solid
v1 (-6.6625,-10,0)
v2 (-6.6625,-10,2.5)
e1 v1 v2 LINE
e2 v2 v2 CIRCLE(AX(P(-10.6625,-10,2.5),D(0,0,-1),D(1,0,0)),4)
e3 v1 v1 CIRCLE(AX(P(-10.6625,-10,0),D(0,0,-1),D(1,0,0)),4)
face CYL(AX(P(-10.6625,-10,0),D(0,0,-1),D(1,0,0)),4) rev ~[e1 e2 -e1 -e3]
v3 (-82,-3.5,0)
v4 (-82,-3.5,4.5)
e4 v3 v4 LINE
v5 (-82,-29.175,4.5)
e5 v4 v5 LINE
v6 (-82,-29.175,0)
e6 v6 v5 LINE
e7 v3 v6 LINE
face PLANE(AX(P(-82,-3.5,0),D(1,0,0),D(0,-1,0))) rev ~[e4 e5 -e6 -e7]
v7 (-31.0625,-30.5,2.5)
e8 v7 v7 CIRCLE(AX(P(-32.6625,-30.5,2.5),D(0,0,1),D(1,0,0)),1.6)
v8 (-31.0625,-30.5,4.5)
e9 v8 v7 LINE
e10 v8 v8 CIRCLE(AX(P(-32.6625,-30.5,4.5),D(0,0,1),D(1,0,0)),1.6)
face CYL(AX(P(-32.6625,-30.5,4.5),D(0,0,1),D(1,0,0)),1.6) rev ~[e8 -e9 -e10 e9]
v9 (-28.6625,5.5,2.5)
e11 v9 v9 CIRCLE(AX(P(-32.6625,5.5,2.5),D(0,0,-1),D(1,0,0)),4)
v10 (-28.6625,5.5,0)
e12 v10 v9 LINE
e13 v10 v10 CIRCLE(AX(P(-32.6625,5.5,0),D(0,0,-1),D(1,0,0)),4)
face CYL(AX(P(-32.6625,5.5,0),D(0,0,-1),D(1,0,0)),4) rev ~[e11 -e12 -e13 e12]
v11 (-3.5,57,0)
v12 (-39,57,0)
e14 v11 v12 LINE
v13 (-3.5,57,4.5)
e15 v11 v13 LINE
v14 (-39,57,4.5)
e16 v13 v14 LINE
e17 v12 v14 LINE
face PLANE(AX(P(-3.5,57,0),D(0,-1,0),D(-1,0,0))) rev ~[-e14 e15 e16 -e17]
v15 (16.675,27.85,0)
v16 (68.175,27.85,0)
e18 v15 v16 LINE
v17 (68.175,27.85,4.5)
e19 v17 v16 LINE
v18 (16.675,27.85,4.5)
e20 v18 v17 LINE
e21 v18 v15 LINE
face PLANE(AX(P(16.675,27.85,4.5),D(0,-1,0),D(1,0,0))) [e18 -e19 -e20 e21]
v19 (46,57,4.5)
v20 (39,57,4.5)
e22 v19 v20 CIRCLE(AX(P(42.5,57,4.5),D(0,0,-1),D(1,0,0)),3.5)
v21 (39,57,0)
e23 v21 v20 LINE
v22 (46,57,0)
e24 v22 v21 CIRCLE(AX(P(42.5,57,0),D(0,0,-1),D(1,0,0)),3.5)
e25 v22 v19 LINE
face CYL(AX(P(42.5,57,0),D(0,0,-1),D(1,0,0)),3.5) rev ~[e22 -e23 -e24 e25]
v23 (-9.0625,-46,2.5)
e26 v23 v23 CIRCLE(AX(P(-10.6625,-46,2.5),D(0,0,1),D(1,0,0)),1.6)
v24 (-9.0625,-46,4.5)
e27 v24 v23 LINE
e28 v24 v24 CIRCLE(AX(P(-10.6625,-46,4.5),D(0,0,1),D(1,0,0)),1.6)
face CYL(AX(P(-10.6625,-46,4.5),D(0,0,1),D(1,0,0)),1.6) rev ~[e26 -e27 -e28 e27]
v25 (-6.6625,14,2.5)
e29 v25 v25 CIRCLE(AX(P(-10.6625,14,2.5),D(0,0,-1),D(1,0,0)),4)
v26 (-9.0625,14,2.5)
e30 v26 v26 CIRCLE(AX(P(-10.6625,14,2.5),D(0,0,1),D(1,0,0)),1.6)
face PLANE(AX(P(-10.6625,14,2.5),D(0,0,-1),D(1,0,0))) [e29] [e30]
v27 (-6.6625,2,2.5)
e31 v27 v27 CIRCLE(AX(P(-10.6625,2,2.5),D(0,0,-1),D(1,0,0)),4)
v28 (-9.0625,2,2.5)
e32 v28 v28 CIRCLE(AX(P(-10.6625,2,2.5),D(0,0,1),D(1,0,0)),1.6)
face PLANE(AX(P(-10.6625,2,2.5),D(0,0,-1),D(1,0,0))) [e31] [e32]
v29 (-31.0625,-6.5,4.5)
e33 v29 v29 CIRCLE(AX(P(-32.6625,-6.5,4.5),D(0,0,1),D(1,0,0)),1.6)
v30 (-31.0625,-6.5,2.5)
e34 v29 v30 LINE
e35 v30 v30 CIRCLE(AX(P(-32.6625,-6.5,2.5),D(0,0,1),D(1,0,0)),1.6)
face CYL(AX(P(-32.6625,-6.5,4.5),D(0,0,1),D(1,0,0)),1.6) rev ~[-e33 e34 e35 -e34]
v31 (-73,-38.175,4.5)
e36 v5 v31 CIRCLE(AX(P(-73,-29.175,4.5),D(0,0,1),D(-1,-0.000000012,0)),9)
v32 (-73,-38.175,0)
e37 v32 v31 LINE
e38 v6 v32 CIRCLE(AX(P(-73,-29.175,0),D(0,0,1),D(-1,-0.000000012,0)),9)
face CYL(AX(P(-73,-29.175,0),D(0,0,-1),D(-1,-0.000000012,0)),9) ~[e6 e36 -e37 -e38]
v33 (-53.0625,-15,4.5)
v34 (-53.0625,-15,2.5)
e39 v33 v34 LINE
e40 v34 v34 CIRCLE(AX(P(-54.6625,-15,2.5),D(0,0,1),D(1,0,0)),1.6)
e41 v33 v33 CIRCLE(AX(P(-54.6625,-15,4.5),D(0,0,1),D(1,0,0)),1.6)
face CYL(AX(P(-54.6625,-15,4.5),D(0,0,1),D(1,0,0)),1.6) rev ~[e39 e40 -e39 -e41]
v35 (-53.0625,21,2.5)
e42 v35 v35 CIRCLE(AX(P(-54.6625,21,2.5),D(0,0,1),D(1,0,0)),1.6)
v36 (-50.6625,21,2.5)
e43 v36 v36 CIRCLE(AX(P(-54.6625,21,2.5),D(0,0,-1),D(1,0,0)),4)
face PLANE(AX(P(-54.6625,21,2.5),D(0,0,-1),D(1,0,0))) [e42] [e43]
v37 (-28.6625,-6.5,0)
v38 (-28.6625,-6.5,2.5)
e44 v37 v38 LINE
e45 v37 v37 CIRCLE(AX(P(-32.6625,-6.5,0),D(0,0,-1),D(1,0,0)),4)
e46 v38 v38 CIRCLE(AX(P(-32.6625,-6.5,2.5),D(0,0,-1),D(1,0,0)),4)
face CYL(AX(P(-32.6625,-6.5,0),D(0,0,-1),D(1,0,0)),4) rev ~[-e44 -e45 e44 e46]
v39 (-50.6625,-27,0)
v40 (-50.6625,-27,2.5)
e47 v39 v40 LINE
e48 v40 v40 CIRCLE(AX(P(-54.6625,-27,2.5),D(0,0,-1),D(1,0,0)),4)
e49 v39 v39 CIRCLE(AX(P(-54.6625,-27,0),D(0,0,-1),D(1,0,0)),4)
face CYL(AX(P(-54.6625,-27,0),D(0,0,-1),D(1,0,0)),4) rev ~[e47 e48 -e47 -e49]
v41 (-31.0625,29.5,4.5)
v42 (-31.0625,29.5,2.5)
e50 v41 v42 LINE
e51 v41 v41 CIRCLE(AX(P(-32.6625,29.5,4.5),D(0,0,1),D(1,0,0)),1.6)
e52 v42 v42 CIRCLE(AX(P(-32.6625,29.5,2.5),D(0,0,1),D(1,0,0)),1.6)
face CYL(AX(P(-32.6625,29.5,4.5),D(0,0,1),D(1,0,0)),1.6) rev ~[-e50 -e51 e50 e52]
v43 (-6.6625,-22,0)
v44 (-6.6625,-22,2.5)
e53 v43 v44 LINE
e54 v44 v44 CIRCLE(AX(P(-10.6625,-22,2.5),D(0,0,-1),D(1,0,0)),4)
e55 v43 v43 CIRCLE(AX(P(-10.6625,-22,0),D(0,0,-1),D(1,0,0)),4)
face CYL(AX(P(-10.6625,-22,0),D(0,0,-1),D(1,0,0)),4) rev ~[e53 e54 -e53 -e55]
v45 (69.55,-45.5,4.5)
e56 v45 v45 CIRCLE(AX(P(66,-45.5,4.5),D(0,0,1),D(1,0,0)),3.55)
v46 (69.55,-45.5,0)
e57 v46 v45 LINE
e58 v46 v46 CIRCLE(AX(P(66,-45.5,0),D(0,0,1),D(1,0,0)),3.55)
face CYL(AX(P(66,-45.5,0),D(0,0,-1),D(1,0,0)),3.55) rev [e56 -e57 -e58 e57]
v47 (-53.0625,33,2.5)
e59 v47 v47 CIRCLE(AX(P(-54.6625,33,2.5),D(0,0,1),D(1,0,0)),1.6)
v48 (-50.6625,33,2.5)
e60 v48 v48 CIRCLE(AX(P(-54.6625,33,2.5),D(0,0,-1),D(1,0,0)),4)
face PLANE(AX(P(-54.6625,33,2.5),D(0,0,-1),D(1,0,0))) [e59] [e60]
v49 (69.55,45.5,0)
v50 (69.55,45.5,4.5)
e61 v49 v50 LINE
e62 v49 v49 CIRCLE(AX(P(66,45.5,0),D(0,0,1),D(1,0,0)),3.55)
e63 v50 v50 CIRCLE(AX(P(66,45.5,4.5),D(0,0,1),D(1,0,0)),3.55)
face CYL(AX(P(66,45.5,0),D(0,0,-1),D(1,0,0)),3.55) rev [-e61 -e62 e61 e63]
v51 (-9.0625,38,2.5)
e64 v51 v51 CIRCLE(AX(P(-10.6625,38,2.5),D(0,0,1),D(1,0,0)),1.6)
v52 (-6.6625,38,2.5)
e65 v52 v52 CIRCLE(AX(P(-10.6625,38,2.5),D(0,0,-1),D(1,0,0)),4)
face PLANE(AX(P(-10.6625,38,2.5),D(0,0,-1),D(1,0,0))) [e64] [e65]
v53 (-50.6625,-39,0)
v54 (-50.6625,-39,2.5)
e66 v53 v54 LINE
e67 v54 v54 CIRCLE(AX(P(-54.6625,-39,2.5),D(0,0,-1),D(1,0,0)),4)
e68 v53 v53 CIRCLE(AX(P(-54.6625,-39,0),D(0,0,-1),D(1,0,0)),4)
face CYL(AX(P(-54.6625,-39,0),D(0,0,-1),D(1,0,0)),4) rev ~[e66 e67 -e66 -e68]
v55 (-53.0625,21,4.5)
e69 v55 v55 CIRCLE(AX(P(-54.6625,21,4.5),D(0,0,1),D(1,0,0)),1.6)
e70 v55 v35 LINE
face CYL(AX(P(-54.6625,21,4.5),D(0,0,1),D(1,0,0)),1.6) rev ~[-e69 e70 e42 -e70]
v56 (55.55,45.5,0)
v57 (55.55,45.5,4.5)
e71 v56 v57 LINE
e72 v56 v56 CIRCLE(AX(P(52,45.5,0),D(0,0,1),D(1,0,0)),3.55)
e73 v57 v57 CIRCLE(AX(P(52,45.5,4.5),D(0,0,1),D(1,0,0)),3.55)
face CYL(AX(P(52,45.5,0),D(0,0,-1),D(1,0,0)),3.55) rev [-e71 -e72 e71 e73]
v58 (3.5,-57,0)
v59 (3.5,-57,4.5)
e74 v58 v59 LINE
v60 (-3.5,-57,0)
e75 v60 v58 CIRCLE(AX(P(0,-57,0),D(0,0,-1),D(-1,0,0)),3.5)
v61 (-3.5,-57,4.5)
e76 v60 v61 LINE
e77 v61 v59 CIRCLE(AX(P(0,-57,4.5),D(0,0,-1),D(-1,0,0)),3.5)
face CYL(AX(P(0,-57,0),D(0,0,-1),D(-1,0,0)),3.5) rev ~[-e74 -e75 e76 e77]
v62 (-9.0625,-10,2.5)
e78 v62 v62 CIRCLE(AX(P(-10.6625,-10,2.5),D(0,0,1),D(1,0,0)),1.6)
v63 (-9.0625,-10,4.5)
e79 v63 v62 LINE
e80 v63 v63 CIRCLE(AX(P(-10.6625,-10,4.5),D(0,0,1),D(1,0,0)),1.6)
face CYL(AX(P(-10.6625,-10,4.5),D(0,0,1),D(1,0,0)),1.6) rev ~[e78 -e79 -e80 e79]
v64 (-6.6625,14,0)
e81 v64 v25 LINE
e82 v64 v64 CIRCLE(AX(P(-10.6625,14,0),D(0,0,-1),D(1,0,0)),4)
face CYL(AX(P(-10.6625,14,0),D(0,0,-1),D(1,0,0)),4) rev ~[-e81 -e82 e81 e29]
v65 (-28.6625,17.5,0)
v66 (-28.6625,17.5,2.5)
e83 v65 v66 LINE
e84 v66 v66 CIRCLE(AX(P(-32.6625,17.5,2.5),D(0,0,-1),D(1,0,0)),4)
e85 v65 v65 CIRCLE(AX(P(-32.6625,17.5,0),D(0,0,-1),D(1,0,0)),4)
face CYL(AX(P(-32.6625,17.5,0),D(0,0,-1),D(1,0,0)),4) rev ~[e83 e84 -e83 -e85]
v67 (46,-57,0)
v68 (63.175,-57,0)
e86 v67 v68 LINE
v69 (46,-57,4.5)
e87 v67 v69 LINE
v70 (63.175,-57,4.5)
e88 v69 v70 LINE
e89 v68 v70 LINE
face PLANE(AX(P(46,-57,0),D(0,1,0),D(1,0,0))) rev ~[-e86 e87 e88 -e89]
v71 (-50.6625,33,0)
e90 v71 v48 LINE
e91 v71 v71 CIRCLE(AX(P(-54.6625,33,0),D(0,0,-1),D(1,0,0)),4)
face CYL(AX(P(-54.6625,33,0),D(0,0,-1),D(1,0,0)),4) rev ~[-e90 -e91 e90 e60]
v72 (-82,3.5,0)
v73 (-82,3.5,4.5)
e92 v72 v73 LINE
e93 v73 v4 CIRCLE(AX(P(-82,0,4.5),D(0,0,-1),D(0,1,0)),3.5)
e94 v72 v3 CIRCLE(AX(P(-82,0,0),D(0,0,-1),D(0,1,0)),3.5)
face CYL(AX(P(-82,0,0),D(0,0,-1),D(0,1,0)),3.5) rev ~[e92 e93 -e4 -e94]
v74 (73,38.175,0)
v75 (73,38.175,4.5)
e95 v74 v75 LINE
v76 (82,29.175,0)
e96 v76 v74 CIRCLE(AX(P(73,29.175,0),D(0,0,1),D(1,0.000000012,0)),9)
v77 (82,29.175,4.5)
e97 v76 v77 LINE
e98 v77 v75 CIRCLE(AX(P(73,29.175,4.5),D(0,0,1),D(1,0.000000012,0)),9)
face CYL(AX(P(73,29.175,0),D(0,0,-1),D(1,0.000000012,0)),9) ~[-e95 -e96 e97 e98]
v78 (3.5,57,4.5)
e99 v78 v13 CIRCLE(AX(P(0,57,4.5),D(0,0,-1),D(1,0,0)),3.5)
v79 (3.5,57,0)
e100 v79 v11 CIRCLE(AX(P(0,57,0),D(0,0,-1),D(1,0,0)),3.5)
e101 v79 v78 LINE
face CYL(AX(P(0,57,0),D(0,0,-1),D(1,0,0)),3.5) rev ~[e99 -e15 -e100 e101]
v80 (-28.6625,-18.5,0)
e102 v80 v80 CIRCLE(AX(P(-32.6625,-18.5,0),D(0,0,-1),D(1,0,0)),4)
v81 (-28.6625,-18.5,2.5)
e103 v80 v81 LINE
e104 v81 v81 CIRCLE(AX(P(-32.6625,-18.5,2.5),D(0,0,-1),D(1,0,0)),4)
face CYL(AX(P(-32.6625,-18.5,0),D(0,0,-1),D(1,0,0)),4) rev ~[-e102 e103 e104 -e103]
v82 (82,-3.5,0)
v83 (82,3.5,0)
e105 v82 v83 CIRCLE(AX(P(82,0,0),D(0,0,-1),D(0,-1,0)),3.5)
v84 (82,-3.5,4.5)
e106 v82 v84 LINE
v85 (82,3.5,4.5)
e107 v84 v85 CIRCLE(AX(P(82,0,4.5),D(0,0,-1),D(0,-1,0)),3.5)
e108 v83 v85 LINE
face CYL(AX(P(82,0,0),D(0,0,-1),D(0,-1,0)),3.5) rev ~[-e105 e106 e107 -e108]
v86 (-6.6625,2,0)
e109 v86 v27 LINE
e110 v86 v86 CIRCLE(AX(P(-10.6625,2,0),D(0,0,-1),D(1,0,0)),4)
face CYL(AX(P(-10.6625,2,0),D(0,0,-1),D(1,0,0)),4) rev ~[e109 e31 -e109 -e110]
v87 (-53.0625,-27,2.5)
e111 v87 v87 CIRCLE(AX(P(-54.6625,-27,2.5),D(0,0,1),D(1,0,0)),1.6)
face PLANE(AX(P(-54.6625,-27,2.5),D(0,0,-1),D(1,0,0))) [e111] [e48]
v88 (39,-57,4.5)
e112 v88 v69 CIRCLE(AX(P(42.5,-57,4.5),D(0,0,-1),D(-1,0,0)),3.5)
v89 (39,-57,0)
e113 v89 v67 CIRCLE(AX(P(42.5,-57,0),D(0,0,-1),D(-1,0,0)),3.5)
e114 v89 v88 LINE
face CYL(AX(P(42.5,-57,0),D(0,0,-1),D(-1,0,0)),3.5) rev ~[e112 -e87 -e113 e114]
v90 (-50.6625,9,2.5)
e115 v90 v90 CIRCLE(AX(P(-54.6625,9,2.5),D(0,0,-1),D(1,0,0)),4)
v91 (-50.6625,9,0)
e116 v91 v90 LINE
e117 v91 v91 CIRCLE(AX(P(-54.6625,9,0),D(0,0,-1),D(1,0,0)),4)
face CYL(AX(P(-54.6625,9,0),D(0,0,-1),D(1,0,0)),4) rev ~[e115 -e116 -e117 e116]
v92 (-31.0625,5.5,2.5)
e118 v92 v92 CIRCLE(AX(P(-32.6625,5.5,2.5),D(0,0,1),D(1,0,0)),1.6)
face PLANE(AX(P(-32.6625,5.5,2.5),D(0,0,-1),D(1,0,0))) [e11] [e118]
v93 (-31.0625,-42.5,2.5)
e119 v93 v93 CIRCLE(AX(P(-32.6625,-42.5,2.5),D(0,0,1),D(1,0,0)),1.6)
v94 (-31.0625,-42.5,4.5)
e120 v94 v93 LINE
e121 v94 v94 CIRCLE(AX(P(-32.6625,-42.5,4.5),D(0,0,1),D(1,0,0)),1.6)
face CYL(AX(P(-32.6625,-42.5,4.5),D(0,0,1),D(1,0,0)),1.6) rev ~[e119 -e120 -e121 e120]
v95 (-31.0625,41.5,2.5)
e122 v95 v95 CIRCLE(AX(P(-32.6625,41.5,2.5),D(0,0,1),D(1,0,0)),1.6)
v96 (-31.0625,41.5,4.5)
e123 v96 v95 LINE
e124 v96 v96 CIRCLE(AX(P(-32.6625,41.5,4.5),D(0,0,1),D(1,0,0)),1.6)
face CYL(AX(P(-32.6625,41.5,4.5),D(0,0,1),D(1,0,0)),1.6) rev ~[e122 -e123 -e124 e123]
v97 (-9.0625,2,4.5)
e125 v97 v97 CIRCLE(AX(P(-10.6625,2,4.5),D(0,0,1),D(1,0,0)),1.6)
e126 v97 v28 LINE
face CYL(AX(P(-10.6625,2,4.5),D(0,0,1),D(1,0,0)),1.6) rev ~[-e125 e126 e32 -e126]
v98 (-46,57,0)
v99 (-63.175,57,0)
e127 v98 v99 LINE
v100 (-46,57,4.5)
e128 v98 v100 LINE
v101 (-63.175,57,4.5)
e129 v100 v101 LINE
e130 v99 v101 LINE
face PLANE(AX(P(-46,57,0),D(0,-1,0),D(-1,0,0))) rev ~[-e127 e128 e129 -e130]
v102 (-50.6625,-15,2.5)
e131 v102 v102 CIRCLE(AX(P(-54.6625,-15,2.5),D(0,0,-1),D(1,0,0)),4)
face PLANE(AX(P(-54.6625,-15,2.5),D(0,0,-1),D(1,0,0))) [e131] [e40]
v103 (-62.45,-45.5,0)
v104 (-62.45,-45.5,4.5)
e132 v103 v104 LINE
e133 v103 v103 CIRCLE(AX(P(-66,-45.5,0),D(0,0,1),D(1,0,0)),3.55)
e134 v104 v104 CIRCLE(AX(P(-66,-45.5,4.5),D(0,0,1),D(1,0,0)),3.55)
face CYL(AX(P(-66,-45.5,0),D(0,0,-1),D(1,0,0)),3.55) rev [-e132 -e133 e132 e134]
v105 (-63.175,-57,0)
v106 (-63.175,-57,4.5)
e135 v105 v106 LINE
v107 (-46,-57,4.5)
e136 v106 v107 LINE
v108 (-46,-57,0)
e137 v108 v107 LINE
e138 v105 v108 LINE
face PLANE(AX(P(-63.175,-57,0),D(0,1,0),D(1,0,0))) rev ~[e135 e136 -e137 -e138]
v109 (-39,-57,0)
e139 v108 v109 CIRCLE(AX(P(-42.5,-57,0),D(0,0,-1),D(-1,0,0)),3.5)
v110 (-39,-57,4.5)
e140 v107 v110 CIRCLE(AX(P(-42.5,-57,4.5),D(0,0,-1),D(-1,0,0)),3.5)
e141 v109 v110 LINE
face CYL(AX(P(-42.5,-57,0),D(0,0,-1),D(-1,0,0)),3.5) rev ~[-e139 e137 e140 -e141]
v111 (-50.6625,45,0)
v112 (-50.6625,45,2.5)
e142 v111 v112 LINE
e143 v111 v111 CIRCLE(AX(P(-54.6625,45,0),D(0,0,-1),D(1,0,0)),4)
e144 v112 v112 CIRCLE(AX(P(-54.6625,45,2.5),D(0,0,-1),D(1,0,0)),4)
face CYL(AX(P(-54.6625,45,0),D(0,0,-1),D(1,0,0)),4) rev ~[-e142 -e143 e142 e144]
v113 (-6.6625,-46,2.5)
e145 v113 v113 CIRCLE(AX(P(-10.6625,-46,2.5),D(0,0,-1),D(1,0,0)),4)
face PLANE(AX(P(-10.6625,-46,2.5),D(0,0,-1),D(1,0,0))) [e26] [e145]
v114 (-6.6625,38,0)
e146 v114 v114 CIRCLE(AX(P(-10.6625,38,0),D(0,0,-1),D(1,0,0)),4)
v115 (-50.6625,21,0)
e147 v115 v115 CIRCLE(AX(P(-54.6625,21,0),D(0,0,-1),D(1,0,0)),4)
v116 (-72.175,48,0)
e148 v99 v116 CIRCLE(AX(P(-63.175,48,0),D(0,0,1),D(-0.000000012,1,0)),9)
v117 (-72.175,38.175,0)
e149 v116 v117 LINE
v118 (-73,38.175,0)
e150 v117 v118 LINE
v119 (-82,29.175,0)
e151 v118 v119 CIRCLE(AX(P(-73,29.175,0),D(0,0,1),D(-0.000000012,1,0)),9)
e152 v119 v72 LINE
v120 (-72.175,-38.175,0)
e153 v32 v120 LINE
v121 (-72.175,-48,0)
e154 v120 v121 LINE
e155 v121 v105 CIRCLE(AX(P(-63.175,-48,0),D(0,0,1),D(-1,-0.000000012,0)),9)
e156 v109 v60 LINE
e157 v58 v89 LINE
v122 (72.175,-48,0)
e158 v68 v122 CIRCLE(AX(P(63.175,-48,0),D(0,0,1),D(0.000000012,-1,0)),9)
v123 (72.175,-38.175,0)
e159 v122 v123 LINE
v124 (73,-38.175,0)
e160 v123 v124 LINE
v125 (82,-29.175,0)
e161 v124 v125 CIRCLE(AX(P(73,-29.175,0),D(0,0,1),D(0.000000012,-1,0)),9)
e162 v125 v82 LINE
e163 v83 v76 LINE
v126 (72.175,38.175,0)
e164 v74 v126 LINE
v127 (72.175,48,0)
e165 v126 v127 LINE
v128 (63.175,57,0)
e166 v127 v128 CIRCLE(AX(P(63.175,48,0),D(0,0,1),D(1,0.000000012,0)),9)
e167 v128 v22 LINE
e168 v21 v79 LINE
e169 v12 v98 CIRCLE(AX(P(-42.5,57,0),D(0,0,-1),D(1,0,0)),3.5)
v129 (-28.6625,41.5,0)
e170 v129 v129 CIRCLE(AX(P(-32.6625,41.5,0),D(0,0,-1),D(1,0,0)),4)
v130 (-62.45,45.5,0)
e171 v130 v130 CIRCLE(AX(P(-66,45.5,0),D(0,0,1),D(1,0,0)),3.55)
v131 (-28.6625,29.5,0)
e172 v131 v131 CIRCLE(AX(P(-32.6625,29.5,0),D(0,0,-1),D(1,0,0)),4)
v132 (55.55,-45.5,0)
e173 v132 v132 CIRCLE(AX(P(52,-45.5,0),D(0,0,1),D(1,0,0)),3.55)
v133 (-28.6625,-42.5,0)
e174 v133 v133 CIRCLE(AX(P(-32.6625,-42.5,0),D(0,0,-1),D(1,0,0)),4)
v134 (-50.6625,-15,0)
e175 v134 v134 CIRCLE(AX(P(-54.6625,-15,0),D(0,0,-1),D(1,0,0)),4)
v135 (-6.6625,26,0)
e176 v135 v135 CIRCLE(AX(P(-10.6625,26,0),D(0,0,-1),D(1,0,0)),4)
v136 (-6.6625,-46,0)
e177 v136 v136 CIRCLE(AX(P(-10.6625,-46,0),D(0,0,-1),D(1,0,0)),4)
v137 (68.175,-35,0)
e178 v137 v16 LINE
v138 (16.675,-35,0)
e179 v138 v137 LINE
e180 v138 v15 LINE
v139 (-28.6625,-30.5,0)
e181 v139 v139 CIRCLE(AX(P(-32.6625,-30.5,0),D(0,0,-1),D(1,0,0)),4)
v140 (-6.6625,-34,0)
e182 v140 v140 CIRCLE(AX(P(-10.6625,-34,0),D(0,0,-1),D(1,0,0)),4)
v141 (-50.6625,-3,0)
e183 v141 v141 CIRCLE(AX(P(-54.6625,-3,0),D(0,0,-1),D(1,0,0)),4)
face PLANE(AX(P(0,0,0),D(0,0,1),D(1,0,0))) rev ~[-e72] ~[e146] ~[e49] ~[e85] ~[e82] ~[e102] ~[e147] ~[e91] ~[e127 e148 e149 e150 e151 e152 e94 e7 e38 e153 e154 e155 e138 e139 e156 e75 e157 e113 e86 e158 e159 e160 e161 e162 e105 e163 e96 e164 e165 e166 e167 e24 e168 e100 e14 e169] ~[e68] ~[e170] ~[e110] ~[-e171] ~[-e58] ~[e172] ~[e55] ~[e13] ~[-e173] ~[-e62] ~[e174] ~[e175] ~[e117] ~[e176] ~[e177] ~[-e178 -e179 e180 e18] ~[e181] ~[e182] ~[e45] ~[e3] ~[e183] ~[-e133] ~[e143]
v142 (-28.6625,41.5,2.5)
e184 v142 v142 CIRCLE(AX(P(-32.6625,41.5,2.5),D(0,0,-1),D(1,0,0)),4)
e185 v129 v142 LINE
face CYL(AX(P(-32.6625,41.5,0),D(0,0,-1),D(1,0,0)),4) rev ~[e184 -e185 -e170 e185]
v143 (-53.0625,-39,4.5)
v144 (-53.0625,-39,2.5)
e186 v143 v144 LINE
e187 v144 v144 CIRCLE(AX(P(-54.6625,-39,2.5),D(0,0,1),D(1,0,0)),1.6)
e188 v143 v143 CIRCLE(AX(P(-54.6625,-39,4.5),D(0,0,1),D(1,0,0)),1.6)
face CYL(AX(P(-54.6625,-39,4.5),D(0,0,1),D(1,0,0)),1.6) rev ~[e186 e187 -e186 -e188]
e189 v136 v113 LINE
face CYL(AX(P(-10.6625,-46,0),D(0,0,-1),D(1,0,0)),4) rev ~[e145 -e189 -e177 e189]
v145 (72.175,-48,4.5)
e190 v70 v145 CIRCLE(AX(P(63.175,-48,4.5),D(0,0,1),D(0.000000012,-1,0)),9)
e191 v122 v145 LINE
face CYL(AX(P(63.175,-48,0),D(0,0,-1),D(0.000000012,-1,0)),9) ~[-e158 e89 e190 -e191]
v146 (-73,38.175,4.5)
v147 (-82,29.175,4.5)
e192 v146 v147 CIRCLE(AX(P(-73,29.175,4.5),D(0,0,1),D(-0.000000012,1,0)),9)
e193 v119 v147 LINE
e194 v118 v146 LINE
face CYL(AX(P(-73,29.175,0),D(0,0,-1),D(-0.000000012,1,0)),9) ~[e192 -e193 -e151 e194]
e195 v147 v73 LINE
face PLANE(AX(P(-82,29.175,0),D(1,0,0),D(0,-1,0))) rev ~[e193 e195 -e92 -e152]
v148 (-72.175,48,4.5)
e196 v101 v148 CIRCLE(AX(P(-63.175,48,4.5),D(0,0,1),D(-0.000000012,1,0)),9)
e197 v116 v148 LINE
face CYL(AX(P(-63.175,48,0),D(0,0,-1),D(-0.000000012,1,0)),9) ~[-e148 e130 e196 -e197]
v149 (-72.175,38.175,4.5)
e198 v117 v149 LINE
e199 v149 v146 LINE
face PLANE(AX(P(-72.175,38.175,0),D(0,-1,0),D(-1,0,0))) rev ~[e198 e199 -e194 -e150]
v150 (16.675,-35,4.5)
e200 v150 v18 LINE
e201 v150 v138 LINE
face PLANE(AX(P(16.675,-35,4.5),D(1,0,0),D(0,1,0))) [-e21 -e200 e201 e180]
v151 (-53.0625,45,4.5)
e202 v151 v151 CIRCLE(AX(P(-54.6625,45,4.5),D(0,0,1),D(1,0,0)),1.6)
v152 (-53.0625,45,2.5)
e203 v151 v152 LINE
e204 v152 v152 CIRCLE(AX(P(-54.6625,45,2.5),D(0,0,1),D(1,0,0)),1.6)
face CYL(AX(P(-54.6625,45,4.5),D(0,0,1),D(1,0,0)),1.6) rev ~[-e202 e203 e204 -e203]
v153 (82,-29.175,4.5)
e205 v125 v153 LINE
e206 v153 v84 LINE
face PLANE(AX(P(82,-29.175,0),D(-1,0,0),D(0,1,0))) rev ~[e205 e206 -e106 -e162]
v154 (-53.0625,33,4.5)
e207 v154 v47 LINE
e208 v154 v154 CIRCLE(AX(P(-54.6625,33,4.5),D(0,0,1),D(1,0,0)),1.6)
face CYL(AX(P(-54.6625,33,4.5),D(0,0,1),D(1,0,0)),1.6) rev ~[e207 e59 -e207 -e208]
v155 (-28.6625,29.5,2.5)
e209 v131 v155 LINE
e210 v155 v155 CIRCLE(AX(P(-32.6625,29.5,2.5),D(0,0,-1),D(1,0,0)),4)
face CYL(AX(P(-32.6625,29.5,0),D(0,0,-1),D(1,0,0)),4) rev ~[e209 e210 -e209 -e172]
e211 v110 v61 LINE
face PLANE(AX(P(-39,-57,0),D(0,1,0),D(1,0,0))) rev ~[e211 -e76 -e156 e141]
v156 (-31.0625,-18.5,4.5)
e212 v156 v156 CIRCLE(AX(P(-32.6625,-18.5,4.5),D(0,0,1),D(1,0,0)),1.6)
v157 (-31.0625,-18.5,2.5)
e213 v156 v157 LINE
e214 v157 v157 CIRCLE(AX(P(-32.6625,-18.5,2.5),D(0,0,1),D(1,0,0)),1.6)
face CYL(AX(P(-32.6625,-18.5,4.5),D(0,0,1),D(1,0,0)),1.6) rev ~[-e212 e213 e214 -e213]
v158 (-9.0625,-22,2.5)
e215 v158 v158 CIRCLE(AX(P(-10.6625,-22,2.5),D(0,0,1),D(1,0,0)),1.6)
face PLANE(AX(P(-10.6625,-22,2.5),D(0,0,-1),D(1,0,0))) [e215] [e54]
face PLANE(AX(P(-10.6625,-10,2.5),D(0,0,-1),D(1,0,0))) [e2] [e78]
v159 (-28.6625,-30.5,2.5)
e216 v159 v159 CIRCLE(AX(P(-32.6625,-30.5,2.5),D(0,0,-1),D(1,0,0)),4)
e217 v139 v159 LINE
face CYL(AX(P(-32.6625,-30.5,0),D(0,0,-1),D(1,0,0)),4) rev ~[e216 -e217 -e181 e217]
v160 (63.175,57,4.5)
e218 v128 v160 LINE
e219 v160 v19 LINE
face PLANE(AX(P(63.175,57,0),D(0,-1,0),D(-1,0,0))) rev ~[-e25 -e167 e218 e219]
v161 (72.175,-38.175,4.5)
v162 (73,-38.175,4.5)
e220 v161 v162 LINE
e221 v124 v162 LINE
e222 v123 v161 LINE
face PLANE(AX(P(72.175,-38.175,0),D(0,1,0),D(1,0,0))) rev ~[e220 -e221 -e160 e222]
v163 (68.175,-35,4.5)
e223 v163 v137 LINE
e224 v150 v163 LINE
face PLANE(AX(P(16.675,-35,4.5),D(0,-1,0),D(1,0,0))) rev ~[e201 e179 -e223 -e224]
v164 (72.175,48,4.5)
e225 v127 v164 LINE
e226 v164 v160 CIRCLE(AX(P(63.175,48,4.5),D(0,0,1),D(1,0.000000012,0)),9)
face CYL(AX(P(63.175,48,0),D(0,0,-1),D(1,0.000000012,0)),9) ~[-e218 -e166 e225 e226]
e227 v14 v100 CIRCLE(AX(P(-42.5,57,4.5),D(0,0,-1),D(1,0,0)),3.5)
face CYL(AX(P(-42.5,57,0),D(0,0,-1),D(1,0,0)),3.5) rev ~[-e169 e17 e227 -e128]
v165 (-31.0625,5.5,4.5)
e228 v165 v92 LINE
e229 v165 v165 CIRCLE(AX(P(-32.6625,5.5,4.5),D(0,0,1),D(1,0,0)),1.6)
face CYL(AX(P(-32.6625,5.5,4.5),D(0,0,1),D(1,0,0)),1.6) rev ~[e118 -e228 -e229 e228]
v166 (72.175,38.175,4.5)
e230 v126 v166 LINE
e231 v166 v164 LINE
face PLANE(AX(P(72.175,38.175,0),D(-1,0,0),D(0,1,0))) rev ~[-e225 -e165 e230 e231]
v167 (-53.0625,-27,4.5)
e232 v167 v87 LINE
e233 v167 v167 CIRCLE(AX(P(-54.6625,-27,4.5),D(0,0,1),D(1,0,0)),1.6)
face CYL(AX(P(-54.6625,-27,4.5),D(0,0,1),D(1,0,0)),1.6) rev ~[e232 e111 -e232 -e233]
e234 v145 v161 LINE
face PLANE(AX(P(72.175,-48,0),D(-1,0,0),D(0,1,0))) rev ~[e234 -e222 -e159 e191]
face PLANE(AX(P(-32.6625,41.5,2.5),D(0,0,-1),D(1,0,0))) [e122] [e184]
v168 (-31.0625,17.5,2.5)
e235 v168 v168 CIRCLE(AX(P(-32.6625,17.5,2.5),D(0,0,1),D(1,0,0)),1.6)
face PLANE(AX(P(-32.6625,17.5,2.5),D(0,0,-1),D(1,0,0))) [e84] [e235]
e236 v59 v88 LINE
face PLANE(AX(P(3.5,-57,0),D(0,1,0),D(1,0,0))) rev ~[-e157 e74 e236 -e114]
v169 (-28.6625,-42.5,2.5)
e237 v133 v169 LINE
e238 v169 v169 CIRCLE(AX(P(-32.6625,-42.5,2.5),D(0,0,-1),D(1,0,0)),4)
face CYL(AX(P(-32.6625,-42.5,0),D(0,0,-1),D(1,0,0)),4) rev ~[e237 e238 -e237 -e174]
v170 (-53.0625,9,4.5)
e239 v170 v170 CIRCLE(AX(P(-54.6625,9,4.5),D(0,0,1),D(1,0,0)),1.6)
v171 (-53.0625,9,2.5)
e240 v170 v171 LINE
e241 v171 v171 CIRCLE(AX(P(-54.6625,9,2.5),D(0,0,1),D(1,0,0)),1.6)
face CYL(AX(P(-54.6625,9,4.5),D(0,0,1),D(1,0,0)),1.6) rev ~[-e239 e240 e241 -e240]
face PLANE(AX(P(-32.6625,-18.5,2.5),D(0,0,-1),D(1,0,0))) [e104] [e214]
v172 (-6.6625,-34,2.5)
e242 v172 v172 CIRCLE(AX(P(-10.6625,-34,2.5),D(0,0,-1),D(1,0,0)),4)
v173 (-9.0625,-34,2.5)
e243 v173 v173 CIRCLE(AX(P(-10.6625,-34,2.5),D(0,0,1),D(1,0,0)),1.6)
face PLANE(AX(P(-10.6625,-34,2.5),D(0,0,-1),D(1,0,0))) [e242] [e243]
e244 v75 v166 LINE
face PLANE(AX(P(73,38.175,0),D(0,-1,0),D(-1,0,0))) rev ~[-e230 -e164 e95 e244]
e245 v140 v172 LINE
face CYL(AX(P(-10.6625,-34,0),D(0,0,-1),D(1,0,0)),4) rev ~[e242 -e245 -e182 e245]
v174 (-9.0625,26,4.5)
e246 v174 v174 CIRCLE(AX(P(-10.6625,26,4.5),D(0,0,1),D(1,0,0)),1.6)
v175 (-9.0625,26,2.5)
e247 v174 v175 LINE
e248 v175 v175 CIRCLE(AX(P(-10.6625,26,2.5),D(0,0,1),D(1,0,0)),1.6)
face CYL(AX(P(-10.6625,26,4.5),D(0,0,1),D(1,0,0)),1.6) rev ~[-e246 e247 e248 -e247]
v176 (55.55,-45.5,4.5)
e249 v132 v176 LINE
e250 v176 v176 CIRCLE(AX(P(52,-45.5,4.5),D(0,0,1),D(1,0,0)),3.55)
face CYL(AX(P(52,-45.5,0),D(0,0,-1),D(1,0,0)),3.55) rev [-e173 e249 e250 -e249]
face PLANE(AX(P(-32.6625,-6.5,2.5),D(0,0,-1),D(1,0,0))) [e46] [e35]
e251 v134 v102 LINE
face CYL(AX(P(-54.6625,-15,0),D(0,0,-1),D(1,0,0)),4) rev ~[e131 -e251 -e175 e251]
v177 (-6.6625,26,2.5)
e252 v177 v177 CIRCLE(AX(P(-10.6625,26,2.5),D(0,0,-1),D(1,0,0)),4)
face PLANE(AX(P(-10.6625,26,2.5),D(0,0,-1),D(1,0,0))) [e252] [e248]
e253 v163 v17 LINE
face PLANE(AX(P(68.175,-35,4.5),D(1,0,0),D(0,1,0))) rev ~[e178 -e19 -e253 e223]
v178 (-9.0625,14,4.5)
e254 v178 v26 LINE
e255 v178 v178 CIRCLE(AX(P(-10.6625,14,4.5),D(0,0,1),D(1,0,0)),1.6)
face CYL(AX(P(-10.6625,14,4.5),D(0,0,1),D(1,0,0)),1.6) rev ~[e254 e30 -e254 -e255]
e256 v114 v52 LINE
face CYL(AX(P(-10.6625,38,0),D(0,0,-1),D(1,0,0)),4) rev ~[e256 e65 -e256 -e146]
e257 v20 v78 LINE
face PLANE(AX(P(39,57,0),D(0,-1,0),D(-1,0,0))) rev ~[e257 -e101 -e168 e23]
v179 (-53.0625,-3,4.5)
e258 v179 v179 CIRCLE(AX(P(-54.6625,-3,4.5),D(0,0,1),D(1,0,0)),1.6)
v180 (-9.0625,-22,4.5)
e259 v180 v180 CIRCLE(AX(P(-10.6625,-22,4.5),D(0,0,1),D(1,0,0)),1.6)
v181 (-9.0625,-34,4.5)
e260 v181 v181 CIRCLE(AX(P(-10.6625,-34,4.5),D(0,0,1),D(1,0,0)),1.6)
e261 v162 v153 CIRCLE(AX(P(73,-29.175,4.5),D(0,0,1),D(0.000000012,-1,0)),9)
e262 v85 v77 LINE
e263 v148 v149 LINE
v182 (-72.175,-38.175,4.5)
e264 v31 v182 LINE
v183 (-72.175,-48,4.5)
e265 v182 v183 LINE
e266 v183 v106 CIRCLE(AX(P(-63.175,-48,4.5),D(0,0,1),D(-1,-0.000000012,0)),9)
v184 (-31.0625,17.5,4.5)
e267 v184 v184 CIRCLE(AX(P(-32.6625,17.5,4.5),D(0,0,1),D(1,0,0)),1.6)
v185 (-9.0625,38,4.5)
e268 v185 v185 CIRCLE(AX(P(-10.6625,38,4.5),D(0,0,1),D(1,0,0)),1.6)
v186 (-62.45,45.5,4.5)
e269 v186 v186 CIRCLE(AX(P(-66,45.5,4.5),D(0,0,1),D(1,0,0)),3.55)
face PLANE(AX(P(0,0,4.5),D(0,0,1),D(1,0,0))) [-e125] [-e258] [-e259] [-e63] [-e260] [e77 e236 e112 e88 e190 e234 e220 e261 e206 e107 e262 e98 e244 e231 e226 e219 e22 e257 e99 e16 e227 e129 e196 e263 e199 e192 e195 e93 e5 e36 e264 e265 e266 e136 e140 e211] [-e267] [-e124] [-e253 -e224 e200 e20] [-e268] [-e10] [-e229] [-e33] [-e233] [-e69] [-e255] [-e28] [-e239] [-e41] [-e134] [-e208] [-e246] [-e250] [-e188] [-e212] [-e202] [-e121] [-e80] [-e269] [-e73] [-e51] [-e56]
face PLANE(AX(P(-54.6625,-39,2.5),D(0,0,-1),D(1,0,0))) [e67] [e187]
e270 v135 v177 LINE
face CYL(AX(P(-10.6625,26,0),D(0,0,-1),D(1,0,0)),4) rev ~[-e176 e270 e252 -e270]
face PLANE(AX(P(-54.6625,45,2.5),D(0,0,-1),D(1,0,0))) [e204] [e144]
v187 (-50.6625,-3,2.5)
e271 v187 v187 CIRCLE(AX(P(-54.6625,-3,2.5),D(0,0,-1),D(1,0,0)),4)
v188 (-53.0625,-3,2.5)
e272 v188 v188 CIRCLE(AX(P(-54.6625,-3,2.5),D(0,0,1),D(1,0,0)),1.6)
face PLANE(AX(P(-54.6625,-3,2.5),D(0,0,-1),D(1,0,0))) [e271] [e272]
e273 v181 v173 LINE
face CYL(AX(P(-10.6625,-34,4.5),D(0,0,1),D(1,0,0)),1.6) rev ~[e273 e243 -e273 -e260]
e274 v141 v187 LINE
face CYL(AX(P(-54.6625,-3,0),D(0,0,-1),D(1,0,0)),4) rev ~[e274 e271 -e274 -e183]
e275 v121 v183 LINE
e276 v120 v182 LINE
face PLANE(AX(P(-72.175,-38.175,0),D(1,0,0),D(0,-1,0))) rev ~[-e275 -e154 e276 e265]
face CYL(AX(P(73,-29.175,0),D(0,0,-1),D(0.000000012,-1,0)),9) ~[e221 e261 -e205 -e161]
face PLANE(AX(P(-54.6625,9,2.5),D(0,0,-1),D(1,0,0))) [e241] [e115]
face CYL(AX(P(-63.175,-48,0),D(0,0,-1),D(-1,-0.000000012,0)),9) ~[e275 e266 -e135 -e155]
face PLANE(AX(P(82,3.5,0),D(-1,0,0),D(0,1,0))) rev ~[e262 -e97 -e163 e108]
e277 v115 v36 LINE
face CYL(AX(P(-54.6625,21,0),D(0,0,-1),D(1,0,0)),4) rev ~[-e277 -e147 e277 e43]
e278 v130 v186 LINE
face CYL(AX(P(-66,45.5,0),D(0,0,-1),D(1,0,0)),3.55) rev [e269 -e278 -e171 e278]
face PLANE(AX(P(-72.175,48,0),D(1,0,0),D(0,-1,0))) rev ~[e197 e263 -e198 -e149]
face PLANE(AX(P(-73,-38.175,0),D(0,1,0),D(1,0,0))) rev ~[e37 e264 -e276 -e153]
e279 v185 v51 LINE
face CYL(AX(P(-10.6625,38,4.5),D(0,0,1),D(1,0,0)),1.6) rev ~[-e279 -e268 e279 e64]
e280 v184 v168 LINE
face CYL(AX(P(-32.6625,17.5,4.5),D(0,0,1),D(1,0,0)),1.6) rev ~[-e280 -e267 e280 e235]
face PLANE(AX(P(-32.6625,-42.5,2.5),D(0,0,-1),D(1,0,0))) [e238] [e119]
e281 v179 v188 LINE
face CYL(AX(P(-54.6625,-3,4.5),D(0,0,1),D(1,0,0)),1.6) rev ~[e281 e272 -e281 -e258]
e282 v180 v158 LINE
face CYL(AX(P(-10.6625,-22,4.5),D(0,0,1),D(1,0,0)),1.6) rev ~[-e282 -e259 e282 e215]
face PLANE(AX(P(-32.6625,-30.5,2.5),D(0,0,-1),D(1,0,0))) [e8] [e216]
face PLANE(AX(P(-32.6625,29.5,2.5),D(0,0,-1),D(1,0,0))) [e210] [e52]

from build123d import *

# Parameters (mm, degrees)
F0_R     = 3.55
F1_DEPTH = 4.5
F2_W     = 51.5
F2_H     = 62.85
F3_DEPTH = 4.501
F4_R     = 1.6
F5_DEPTH = 4.501
F6_R     = 4
F7_DEPTH = 2.5


with BuildPart() as f1:
    # F0 (on Top) → F1 (new body)
    with BuildSketch(Plane.XY):
        with BuildLine():
            ThreePointArc((-72.175, -48), (-69.538961, -54.363961), (-63.175, -57))
            Line((-63.175, -57), (-46, -57))
            ThreePointArc((-46, -57), (-42.5, -53.5), (-39, -57))
            Line((-39, -57), (-3.5, -57))
            ThreePointArc((-3.5, -57), (0, -53.5), (3.5, -57))
            Line((3.5, -57), (39, -57))
            ThreePointArc((39, -57), (42.5, -53.5), (46, -57))
            Line((46, -57), (63.175, -57))
            ThreePointArc((63.175, -57), (69.538961, -54.363961), (72.175, -48))
            Line((72.175, -48), (72.175, -38.175))
            Line((72.175, -38.175), (73, -38.175))
            ThreePointArc((73, -38.175), (79.363961, -35.538961), (82, -29.175))
            Line((82, -29.175), (82, -3.5))
            ThreePointArc((82, -3.5), (78.5, 0), (82, 3.5))
            Line((82, 3.5), (82, 29.175))
            ThreePointArc((82, 29.175), (79.363961, 35.538961), (73, 38.175))
            Line((73, 38.175), (72.175, 38.175))
            Line((72.175, 38.175), (72.175, 48))
            ThreePointArc((72.175, 48), (69.538961, 54.363961), (63.175, 57))
            Line((63.175, 57), (46, 57))
            ThreePointArc((46, 57), (42.5, 53.5), (39, 57))
            Line((39, 57), (3.5, 57))
            ThreePointArc((3.5, 57), (0, 53.5), (-3.5, 57))
            Line((-3.5, 57), (-39, 57))
            ThreePointArc((-39, 57), (-42.5, 53.5), (-46, 57))
            Line((-46, 57), (-63.175, 57))
            ThreePointArc((-63.175, 57), (-69.538961, 54.363961), (-72.175, 48))
            Line((-72.175, 48), (-72.175, 38.175))
            Line((-72.175, 38.175), (-73, 38.175))
            ThreePointArc((-73, 38.175), (-79.363961, 35.538961), (-82, 29.175))
            Line((-82, 29.175), (-82, 3.5))
            ThreePointArc((-82, 3.5), (-78.5, 0), (-82, -3.5))
            Line((-82, -3.5), (-82, -29.175))
            ThreePointArc((-82, -29.175), (-79.363961, -35.538961), (-73, -38.175))
            Line((-73, -38.175), (-72.175, -38.175))
            Line((-72.175, -38.175), (-72.175, -48))
        make_face()
        with Locations((-66, -45.5)):
            Circle(F0_R, mode=Mode.SUBTRACT)
        with Locations((52, -45.5)):
            Circle(F0_R, mode=Mode.SUBTRACT)
        with Locations((66, -45.5)):
            Circle(F0_R, mode=Mode.SUBTRACT)
        with Locations((-66, 45.5)):
            Circle(F0_R, mode=Mode.SUBTRACT)
        with Locations((52, 45.5)):
            Circle(F0_R, mode=Mode.SUBTRACT)
        with Locations((66, 45.5)):
            Circle(F0_R, mode=Mode.SUBTRACT)
    extrude(amount=F1_DEPTH)

    # F2 (on face) → F3 (cut, through all)
    with BuildSketch(Plane.XY.offset(4.5)):
        with Locations((42.425, -3.575)):
            Rectangle(F2_W, F2_H)
    extrude(amount=-F3_DEPTH, mode=Mode.SUBTRACT)

    # F4 (on face) → F5 (cut, through all)
    with BuildSketch(Plane.XY.offset(4.5)):
        with Locations((-54.6625, 45)):
            Circle(F4_R)
        with Locations((-54.6625, 33)):
            Circle(F4_R)
        with Locations((-54.6625, 21)):
            Circle(F4_R)
        with Locations((-54.6625, 9)):
            Circle(F4_R)
        with Locations((-54.6625, -3)):
            Circle(F4_R)
        with Locations((-54.6625, -15)):
            Circle(F4_R)
        with Locations((-54.6625, -27)):
            Circle(F4_R)
        with Locations((-54.6625, -39)):
            Circle(F4_R)
        with Locations((-10.6625, 38)):
            Circle(F4_R)
        with Locations((-10.6625, 26)):
            Circle(F4_R)
        with Locations((-10.6625, 14)):
            Circle(F4_R)
        with Locations((-10.6625, 2)):
            Circle(F4_R)
        with Locations((-10.6625, -10)):
            Circle(F4_R)
        with Locations((-10.6625, -22)):
            Circle(F4_R)
        with Locations((-10.6625, -34)):
            Circle(F4_R)
        with Locations((-10.6625, -46)):
            Circle(F4_R)
        with Locations((-32.6625, 41.5)):
            Circle(F4_R)
        with Locations((-32.6625, 29.5)):
            Circle(F4_R)
        with Locations((-32.6625, 17.5)):
            Circle(F4_R)
        with Locations((-32.6625, 5.5)):
            Circle(F4_R)
        with Locations((-32.6625, -6.5)):
            Circle(F4_R)
        with Locations((-32.6625, -18.5)):
            Circle(F4_R)
        with Locations((-32.6625, -30.5)):
            Circle(F4_R)
        with Locations((-32.6625, -42.5)):
            Circle(F4_R)
    extrude(amount=-F5_DEPTH, mode=Mode.SUBTRACT)

    # F6 (on face) → F7 (cut)
    with BuildSketch(Plane(origin=(0, 0, 0), x_dir=(1, 0, 0), z_dir=(0, 0, -1))):
        with Locations((-10.6625, 46)):
            Circle(F6_R)
        with Locations((-10.6625, 34)):
            Circle(F6_R)
        with Locations((-10.6625, 22)):
            Circle(F6_R)
        with Locations((-10.6625, 10)):
            Circle(F6_R)
        with Locations((-10.6625, -2)):
            Circle(F6_R)
        with Locations((-10.6625, -14)):
            Circle(F6_R)
        with Locations((-10.6625, -26)):
            Circle(F6_R)
        with Locations((-54.6625, 39)):
            Circle(F6_R)
        with Locations((-54.6625, 27)):
            Circle(F6_R)
        with Locations((-54.6625, 15)):
            Circle(F6_R)
        with Locations((-54.6625, 3)):
            Circle(F6_R)
        with Locations((-54.6625, -9)):
            Circle(F6_R)
        with Locations((-54.6625, -21)):
            Circle(F6_R)
        with Locations((-54.6625, -33)):
            Circle(F6_R)
        with Locations((-10.6625, -38)):
            Circle(F6_R)
        with Locations((-54.6625, -45)):
            Circle(F6_R)
        with Locations((-32.6625, 42.5)):
            Circle(F6_R)
        with Locations((-32.6625, 30.5)):
            Circle(F6_R)
        with Locations((-32.6625, 18.5)):
            Circle(F6_R)
        with Locations((-32.6625, 6.5)):
            Circle(F6_R)
        with Locations((-32.6625, -5.5)):
            Circle(F6_R)
        with Locations((-32.6625, -17.5)):
            Circle(F6_R)
        with Locations((-32.6625, -29.5)):
            Circle(F6_R)
        with Locations((-32.6625, -41.5)):
            Circle(F6_R)
    extrude(amount=-F7_DEPTH, mode=Mode.SUBTRACT)


solid = f1.part
